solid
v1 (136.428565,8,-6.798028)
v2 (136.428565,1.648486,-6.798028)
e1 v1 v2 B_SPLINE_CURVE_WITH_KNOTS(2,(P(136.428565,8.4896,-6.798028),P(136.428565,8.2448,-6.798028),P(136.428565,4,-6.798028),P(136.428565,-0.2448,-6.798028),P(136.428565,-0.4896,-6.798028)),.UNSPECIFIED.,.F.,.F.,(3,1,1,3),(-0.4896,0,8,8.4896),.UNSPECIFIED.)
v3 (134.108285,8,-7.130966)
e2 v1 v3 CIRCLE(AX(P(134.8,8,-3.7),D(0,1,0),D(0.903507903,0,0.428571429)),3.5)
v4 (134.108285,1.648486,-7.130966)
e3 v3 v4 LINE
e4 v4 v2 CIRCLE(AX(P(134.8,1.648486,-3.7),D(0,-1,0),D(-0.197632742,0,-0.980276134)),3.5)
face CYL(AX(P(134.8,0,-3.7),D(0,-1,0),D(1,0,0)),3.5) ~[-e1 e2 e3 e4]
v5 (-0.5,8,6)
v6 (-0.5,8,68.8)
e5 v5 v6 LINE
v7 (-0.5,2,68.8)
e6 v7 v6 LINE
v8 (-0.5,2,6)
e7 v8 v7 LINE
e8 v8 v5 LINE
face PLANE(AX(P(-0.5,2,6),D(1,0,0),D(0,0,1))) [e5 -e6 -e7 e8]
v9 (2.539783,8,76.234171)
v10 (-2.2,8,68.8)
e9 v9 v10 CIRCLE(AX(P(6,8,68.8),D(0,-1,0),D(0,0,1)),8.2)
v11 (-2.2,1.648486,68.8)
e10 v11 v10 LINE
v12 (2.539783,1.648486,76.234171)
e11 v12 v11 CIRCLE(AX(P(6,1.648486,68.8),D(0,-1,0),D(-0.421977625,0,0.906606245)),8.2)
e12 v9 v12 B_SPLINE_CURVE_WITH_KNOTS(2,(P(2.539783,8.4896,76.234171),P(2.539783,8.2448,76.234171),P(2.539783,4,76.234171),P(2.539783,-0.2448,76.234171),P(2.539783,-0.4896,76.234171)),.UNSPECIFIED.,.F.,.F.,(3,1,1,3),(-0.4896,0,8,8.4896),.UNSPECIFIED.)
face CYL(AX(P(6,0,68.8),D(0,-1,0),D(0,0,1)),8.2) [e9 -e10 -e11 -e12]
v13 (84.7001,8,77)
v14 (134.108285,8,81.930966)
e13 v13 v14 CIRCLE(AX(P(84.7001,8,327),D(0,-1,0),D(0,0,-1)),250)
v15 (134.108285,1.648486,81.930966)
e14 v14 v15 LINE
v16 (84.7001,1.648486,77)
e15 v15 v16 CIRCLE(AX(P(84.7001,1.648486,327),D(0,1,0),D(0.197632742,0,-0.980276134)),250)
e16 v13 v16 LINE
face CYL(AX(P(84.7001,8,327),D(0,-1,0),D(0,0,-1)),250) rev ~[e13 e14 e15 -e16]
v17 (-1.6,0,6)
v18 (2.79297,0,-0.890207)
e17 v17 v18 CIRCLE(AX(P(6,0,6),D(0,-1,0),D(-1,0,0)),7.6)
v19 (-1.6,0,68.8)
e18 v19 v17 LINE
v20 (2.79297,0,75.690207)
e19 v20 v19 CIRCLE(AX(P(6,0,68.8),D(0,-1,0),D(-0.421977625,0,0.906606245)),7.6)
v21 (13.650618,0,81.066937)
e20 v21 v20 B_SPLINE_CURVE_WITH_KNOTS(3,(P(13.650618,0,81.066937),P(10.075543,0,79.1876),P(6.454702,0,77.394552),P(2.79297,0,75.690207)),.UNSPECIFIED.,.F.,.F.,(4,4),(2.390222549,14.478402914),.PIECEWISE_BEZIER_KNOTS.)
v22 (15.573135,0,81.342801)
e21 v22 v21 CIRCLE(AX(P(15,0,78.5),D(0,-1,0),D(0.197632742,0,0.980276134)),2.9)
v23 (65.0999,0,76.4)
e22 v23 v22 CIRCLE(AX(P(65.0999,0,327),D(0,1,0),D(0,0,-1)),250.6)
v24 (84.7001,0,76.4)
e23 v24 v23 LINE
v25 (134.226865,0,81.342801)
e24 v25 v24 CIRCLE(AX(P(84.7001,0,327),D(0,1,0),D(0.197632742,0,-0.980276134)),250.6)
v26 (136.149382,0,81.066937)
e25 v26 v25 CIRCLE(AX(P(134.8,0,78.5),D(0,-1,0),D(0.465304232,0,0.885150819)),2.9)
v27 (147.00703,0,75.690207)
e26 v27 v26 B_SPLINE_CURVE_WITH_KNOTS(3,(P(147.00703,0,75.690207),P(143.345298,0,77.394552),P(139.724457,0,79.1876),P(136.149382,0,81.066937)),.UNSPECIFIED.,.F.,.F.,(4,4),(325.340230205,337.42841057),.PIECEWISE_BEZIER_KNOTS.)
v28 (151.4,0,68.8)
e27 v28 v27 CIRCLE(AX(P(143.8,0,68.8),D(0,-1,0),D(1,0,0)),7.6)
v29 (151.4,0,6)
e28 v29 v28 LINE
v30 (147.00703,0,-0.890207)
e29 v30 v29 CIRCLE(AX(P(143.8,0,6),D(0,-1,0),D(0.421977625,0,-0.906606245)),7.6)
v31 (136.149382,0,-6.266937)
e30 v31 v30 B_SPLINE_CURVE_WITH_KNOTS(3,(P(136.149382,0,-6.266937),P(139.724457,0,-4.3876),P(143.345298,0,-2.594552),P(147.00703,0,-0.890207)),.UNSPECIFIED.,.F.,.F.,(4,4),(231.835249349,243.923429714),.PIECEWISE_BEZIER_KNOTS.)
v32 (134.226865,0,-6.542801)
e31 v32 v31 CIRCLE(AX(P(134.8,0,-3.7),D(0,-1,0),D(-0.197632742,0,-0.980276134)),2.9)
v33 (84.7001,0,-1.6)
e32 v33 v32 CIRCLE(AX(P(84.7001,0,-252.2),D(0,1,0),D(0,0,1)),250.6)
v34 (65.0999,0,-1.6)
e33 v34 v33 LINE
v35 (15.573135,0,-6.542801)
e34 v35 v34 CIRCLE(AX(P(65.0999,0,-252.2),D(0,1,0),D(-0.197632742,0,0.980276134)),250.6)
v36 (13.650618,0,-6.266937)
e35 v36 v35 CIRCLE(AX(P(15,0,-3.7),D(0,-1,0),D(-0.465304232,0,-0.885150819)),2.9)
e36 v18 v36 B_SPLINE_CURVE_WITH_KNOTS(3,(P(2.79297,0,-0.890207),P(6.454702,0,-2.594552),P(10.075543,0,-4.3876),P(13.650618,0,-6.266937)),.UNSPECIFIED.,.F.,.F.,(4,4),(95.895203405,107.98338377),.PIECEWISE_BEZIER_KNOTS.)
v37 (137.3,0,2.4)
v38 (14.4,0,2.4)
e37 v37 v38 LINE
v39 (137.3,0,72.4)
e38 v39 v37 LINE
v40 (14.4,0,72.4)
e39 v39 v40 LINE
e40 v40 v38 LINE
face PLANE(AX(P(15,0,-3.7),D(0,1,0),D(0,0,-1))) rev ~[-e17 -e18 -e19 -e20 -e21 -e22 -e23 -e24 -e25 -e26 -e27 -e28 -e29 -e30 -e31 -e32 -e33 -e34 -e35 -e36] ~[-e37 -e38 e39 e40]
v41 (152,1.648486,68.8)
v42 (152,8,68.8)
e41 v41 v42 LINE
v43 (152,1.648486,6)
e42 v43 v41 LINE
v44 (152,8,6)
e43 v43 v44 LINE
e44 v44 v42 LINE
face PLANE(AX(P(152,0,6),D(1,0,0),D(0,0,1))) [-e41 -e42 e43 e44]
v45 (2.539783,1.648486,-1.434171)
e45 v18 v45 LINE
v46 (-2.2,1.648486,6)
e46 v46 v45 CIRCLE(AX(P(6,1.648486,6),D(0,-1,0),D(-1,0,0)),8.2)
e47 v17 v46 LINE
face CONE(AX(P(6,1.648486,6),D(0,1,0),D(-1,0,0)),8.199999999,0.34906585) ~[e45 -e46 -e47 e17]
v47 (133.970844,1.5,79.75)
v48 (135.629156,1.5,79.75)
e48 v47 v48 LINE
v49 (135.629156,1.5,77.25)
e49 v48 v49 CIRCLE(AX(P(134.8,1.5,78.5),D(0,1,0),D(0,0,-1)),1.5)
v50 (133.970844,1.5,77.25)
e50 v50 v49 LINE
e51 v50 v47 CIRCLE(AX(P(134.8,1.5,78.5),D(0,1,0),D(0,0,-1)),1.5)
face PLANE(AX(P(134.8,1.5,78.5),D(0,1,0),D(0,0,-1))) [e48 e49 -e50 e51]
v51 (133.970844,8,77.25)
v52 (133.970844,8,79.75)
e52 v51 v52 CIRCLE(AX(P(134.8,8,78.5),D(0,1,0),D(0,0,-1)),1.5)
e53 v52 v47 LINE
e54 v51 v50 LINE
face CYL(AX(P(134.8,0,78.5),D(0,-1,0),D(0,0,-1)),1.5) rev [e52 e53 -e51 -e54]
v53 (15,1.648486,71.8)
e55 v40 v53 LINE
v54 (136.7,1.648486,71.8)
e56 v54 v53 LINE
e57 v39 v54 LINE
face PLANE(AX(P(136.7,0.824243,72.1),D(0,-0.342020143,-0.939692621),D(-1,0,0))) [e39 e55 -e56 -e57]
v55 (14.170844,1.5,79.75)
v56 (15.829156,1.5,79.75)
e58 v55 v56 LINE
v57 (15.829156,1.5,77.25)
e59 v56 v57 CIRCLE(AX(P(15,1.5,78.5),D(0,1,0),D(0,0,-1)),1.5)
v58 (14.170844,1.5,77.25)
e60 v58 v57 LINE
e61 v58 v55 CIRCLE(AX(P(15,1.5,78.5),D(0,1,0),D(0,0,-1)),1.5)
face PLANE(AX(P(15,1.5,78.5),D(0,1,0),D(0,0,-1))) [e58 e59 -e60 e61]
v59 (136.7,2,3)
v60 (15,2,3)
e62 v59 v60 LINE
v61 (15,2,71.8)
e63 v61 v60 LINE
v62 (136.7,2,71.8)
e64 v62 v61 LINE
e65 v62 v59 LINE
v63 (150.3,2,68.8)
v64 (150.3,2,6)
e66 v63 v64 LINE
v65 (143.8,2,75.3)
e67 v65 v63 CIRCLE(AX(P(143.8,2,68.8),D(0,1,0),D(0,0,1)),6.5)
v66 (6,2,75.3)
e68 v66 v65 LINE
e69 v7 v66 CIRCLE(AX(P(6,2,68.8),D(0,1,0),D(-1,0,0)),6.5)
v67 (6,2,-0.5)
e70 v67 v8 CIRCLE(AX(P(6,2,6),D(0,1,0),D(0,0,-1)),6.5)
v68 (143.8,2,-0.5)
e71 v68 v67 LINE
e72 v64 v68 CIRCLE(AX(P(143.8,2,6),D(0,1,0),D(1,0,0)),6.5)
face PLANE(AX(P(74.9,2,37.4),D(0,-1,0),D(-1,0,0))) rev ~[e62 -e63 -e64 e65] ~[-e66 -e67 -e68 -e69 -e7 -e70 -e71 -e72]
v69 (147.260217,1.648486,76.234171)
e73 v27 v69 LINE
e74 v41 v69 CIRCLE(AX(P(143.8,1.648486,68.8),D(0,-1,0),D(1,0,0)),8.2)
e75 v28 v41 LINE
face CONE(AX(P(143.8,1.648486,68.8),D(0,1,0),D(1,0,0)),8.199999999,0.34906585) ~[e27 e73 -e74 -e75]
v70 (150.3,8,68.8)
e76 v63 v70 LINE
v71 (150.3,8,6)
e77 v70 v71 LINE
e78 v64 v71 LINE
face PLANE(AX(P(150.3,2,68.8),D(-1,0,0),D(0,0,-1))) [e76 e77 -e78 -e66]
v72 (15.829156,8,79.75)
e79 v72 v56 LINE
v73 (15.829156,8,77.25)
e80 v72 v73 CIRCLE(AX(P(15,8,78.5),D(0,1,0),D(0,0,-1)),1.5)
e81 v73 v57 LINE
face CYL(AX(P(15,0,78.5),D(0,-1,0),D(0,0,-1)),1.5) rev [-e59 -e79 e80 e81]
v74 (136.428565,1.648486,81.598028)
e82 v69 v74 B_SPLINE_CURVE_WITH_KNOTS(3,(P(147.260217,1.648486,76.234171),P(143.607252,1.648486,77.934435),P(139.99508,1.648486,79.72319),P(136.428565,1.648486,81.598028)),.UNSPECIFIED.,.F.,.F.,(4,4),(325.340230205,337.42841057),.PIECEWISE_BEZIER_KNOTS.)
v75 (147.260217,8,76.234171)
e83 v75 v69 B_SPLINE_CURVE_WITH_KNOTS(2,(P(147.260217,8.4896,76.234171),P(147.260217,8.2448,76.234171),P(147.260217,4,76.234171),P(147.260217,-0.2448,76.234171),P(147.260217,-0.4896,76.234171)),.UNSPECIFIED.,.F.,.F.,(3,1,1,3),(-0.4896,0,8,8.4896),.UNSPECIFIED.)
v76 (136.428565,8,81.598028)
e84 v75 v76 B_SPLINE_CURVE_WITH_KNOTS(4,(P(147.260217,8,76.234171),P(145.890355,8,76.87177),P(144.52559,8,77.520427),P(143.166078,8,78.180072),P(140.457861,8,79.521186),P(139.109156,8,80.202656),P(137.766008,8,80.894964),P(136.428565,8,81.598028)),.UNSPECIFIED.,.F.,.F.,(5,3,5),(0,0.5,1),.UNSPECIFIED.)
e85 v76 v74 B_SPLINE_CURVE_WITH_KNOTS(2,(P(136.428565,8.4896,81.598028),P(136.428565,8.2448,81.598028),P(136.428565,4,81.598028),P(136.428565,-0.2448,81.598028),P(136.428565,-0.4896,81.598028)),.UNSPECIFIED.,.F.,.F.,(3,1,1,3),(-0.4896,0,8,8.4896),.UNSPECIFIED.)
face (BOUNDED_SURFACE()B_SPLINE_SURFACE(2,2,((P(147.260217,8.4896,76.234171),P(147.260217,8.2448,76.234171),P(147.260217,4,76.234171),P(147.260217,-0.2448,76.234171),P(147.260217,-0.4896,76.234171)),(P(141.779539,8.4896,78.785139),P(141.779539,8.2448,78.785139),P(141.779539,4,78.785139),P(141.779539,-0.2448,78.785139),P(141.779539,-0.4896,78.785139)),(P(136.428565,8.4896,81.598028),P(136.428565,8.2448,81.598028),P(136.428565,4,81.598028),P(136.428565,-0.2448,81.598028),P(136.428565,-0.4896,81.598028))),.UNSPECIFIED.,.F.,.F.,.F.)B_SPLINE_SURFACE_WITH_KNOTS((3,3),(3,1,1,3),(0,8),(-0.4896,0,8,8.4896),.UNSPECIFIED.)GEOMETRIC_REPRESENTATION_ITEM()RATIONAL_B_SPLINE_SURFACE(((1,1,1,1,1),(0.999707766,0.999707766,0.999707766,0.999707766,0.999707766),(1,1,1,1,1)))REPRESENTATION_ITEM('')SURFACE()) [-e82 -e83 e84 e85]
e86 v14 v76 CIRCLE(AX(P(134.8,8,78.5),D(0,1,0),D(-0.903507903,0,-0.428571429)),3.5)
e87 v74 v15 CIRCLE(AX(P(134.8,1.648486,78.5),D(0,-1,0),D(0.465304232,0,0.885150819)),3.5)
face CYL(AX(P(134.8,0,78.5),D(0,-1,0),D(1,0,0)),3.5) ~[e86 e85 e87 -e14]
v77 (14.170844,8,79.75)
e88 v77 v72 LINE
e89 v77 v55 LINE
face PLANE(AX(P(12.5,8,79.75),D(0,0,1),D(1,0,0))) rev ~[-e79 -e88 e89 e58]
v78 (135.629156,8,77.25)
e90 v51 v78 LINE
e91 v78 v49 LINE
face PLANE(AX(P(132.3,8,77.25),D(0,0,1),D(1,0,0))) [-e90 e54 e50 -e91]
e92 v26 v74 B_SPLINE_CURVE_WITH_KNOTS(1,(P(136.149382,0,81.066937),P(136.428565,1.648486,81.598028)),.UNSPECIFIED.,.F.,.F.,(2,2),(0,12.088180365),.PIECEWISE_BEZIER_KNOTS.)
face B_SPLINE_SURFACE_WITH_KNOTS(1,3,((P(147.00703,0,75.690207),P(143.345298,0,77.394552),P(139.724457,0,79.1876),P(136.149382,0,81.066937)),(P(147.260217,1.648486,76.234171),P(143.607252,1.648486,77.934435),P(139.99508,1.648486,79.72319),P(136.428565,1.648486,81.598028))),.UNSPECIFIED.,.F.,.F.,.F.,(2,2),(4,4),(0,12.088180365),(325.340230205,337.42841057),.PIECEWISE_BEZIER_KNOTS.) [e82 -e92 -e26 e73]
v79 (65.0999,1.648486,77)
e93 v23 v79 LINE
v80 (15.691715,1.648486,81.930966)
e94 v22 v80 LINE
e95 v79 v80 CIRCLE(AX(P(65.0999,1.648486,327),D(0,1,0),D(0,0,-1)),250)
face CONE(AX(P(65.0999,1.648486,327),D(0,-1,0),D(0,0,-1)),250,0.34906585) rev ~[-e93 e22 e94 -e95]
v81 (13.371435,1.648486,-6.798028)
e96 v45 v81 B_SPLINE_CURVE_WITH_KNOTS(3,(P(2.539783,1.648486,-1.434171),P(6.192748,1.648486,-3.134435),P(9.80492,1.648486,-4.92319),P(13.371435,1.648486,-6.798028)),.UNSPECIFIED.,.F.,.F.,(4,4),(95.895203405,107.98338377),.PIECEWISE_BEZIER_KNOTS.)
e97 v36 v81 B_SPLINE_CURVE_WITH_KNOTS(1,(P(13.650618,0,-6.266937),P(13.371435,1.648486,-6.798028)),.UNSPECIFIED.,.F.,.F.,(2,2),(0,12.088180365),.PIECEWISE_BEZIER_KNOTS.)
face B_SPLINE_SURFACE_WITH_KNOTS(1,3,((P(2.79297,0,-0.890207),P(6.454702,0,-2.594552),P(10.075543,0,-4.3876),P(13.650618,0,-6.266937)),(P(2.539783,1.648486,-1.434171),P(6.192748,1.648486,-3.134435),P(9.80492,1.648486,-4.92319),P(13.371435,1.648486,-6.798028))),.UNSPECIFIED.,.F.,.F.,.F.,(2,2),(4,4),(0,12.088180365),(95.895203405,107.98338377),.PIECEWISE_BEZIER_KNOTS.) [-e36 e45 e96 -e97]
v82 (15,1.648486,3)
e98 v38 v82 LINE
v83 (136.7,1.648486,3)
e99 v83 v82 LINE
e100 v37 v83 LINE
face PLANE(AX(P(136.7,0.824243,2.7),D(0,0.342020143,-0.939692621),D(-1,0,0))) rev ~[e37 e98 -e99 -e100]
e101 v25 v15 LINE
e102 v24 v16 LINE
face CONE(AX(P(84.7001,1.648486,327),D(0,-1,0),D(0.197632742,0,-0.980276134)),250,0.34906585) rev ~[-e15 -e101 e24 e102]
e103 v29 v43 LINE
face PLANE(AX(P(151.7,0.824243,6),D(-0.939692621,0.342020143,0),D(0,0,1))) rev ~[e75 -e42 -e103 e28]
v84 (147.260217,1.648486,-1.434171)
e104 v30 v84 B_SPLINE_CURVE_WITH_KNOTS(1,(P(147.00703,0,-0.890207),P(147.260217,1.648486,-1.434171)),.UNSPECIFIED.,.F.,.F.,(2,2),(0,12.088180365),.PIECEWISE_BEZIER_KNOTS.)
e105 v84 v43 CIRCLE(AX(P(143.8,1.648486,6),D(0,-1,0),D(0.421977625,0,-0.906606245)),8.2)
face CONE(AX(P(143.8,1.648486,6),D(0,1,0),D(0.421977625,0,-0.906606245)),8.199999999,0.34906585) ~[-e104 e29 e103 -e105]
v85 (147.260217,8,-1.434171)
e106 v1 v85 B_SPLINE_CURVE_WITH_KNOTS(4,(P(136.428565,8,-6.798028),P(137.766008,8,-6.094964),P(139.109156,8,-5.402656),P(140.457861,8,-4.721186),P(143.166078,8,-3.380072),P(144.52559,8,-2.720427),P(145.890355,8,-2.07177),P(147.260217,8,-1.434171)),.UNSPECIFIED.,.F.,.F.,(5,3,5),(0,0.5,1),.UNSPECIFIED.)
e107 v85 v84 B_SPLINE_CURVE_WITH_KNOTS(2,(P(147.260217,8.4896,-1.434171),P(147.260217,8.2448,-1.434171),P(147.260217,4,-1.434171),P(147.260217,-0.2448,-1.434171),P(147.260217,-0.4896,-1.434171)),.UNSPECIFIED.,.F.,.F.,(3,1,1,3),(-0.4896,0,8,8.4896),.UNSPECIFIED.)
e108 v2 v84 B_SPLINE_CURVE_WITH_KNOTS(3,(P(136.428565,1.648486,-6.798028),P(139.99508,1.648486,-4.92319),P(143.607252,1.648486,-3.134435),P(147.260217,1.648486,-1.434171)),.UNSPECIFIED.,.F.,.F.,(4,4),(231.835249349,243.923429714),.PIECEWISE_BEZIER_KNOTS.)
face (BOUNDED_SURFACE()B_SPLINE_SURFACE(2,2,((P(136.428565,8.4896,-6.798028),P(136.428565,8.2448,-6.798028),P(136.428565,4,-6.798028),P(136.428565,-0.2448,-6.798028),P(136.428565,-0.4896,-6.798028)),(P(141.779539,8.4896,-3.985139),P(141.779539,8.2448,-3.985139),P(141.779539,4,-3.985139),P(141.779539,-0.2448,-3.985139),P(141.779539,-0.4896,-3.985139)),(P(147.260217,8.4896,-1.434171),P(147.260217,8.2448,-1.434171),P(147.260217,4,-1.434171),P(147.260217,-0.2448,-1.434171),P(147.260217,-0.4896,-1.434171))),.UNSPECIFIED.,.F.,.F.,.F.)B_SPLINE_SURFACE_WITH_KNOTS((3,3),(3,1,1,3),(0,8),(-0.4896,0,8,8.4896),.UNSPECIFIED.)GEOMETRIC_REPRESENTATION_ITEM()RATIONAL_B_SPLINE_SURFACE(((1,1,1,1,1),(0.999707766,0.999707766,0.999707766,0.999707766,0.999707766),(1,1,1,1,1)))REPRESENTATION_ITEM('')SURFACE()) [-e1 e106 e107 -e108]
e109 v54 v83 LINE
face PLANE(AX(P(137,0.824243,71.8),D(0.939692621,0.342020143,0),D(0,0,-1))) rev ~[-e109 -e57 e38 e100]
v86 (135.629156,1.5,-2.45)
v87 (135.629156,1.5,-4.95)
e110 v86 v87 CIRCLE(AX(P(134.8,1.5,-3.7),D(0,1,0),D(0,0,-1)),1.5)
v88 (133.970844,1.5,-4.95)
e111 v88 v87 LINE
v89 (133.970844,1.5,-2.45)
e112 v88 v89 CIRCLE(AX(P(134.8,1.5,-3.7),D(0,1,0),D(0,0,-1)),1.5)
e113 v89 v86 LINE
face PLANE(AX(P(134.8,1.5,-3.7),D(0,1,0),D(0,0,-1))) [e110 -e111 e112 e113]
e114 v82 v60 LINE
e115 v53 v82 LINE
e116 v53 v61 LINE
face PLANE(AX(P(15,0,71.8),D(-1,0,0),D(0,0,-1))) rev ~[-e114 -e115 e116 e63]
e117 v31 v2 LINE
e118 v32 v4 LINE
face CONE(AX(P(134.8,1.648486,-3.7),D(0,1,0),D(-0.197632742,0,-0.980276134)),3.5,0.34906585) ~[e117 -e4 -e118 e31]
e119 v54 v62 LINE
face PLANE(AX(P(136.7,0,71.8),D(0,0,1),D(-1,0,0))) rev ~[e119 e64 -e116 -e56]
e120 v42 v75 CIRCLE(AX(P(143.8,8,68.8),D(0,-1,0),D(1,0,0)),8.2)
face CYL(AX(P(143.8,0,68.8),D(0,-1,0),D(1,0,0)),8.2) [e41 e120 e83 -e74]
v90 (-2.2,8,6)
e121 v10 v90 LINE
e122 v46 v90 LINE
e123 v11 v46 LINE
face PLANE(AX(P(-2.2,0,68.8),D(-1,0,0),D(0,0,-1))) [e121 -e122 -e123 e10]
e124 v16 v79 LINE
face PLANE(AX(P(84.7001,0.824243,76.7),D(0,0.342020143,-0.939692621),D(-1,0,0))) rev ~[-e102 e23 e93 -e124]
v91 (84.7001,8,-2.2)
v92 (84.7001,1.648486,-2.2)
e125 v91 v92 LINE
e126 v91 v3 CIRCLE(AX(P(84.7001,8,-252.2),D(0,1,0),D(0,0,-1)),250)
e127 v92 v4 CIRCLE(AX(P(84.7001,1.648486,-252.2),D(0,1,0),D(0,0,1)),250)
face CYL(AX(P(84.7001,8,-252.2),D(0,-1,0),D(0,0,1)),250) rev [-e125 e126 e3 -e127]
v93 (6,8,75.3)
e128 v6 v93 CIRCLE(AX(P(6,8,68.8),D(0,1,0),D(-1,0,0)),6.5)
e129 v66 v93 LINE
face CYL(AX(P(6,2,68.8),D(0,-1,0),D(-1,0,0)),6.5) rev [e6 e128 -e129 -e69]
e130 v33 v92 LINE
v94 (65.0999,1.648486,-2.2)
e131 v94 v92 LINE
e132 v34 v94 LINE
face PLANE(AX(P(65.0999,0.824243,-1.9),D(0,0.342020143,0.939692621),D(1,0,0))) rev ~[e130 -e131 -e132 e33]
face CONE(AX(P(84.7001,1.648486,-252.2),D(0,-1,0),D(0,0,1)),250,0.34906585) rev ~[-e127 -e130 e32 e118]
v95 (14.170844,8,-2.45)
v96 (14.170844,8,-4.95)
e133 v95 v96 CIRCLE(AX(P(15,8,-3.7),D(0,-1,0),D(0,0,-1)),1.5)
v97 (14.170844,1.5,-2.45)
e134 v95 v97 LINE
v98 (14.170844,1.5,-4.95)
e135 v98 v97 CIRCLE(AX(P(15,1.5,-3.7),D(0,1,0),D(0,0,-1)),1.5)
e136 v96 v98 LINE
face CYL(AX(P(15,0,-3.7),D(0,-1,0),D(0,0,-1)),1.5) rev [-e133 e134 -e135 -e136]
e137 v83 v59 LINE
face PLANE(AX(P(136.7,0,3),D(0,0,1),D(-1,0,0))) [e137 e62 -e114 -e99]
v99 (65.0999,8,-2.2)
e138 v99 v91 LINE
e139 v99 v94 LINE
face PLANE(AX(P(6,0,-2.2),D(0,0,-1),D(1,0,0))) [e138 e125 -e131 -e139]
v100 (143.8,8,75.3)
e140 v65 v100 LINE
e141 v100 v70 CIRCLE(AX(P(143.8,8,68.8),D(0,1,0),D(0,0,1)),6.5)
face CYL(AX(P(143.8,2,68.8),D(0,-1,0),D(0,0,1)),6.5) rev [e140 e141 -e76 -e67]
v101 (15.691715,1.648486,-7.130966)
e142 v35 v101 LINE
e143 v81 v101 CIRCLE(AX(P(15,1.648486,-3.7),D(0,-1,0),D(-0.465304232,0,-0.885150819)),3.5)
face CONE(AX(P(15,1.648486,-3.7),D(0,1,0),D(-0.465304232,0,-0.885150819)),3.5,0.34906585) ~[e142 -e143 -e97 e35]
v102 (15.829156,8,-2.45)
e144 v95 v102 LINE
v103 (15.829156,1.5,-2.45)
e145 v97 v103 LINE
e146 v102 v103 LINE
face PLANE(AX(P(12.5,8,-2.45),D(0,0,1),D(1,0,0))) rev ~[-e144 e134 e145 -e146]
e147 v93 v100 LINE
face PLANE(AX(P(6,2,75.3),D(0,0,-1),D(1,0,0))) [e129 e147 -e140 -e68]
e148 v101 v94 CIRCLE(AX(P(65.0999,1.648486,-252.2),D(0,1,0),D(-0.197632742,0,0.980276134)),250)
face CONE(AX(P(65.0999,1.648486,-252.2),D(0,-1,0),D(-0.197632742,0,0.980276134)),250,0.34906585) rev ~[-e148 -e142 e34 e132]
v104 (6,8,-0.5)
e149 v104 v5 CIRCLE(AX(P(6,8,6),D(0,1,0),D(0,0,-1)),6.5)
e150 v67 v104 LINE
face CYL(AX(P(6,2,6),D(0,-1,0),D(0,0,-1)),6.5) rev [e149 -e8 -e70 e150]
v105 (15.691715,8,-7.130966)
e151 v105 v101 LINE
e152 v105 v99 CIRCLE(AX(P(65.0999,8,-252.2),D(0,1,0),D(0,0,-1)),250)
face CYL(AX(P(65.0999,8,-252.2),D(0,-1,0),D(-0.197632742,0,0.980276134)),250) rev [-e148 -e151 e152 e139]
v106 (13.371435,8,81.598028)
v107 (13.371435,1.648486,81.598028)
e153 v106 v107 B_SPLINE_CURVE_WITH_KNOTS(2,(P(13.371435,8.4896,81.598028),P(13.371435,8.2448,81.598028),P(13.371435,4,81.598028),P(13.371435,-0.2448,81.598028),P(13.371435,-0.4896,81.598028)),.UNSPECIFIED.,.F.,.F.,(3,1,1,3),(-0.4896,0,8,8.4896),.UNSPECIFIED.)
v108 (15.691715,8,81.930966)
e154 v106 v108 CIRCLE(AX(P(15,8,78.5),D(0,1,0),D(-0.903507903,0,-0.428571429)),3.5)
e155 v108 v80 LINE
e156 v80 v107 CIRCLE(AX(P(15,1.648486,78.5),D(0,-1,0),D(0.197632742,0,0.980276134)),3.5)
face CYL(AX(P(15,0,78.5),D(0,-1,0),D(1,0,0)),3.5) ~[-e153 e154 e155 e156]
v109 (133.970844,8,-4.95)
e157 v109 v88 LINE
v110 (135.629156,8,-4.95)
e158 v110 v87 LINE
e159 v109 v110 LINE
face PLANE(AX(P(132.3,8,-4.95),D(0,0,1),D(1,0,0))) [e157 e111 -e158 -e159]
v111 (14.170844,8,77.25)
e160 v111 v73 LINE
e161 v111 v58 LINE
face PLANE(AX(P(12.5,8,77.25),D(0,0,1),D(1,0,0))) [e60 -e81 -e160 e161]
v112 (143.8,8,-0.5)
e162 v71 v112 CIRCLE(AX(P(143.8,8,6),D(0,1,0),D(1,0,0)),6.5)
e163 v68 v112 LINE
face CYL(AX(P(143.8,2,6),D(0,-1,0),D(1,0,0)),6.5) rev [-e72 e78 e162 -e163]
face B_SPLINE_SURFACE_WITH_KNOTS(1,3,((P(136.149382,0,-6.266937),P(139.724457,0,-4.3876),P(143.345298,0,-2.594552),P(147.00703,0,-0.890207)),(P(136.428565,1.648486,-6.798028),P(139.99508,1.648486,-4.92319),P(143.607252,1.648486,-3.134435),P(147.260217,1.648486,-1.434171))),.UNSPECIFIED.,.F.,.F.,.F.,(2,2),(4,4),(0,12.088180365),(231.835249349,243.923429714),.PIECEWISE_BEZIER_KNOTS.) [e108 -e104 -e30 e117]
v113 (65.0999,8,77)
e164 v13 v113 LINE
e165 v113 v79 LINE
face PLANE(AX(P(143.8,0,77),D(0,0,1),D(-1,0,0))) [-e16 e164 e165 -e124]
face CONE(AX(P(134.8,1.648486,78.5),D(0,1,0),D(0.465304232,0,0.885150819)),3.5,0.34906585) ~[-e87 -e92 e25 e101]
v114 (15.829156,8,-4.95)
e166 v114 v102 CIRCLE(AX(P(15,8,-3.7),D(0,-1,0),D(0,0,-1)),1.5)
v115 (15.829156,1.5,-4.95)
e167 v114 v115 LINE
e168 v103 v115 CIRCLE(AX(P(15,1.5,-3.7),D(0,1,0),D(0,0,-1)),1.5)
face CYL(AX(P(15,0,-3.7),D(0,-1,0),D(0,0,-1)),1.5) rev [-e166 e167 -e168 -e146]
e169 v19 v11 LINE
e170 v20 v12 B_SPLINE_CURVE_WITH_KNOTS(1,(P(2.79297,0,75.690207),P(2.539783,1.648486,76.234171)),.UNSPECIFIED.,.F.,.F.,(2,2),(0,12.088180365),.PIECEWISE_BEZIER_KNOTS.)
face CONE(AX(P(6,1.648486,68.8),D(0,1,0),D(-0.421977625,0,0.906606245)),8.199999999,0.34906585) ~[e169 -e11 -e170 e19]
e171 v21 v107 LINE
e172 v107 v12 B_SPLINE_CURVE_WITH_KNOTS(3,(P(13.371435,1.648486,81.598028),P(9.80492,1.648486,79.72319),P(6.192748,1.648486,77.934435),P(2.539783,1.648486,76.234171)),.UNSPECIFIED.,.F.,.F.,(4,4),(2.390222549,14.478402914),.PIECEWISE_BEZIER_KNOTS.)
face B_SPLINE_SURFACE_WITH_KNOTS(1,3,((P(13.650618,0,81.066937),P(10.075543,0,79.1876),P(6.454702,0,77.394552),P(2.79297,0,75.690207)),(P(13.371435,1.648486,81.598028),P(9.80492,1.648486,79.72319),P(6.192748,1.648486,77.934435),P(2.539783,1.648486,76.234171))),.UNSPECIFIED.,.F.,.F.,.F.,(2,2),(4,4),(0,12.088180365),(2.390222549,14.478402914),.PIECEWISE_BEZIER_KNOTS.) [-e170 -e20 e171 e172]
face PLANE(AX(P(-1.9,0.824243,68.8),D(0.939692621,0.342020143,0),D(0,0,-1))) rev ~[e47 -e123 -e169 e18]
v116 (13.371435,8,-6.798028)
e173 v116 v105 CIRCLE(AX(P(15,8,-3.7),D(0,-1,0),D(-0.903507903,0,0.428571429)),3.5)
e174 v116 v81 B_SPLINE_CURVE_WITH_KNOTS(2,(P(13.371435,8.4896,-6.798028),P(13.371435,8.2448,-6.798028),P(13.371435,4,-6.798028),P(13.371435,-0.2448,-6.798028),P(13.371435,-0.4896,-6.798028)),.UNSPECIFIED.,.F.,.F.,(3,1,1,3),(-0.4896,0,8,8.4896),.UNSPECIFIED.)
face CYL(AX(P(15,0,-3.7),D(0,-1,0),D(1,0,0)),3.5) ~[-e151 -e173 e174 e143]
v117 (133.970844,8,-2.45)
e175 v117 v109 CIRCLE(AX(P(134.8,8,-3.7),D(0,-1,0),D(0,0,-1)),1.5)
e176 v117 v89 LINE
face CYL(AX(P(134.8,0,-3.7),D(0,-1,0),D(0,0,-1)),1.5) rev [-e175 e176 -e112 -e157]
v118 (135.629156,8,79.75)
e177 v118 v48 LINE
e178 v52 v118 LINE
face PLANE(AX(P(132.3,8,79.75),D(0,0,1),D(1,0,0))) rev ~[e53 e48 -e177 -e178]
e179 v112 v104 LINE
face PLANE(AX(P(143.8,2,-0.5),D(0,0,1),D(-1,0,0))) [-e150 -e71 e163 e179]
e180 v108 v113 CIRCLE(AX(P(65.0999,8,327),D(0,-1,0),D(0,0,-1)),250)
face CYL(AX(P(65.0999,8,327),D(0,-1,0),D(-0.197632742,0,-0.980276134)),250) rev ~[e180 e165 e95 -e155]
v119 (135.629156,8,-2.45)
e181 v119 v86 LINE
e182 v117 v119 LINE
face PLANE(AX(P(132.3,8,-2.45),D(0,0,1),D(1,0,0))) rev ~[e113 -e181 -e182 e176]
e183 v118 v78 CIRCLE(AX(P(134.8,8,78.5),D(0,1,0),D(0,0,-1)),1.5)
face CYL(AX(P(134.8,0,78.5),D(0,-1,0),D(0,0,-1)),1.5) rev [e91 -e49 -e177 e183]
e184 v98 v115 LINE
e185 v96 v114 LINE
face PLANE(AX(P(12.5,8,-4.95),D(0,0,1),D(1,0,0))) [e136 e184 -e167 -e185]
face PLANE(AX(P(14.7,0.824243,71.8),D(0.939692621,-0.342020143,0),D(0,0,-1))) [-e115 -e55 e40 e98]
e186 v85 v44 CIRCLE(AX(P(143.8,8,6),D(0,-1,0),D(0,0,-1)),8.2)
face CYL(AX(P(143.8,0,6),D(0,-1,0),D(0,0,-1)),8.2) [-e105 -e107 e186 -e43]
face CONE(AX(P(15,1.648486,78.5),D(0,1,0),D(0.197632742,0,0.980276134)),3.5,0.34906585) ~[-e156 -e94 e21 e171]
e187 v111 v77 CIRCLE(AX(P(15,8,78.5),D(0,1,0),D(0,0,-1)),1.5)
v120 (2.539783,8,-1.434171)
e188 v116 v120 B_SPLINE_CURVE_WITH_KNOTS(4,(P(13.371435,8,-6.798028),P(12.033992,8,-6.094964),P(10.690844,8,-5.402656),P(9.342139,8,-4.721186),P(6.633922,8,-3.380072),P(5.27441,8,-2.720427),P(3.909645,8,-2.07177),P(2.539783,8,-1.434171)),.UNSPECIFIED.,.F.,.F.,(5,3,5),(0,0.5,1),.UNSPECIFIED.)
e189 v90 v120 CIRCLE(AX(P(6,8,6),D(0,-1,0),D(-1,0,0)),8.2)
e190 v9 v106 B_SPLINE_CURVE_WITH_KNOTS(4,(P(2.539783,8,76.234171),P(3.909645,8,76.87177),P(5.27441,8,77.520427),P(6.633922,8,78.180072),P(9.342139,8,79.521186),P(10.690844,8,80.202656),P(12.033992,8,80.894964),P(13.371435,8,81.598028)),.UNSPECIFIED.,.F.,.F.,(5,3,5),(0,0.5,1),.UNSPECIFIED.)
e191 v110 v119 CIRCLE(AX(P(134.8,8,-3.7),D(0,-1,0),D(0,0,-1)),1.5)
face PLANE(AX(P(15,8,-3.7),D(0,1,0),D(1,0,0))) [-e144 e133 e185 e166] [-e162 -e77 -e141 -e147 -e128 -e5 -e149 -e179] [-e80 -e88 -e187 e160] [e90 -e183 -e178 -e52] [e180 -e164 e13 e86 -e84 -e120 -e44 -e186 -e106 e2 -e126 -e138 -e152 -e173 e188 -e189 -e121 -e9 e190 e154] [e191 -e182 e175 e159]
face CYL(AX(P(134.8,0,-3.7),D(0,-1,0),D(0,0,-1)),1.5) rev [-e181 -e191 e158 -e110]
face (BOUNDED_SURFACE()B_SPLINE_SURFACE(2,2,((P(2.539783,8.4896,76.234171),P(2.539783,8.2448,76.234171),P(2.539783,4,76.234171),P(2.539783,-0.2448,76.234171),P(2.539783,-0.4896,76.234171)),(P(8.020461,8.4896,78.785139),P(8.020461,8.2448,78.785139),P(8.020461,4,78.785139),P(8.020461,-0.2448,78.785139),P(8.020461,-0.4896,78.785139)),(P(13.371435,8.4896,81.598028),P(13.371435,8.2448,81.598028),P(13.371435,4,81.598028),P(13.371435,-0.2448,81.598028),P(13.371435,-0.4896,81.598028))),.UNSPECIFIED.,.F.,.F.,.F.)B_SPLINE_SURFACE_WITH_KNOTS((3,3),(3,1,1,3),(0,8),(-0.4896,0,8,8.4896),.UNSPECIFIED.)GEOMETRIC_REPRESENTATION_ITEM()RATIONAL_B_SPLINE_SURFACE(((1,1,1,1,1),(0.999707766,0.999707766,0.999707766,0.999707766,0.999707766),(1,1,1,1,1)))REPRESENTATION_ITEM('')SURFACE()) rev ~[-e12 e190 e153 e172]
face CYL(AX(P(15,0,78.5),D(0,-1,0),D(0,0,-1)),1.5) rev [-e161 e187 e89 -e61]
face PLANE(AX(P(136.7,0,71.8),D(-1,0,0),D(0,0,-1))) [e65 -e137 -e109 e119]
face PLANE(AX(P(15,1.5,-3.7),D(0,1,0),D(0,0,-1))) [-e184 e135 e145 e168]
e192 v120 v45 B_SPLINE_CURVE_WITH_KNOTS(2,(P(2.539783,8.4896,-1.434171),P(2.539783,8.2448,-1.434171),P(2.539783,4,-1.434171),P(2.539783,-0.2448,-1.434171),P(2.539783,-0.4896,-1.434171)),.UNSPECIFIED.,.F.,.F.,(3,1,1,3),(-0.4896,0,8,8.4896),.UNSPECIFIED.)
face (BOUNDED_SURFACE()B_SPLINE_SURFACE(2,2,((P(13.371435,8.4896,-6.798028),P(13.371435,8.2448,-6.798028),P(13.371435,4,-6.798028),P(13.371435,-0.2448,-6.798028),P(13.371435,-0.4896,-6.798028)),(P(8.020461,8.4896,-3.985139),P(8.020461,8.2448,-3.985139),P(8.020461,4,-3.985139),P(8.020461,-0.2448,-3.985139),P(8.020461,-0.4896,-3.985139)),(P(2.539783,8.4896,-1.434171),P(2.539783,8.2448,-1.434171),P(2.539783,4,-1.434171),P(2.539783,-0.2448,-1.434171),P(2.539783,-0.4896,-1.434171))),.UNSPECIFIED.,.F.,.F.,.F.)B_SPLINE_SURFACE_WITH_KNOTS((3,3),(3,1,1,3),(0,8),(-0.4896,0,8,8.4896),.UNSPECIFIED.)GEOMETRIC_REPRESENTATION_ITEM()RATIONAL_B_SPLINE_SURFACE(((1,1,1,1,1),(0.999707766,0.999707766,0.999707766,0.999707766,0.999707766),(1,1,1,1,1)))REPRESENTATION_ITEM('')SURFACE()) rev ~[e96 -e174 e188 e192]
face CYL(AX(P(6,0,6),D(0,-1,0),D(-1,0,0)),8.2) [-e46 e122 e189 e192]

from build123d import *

# Parameters (mm, degrees)
EXTRUDE_1_DEPTH       = 2
EXTRUDE_2_DEPTH       = 8
SKETCH_6_R            = 3.5
SKETCH_6_R_2          = 1.5
EXTRUDE_10_DEPTH      = 8
SKETCH_7_W            = 121.7
SKETCH_7_H            = 68.8
CUT_EXTRUDE_1_DEPTH   = 10
FILLET_1_R            = 250
SKETCH_6_2_R          = 1.5
EXTRUDE_11_DEPTH      = 1.5
CHAMFER_1_SIZE        = 0.6
CHAMFER_1_SIZE2       = 1.648486452
CUT_EXTRUDE_START     = -6
CUT_EXTRUDE_1_2_DEPTH = 6
SKETCH_12_W           = 7.981613131
SKETCH_12_H           = 4.067552846
SKETCH_12_W_2         = 5
SKETCH_12_H_2         = 2.5
SKETCH_12_W_3         = 6.44213445
SKETCH_12_H_3         = 4.018836203
SKETCH_12_W_4         = 6.293487169
SKETCH_12_H_4         = 3.99394378
SKETCH_12_W_5         = 6.35997617
EXTRUDE_12_DEPTH      = 6.5


with BuildPart() as part:
    # 草图1 → 凸台-拉伸1 (new body)
    with BuildSketch(Plane(origin=(0, 0, 0), x_dir=(1, 0, 0), z_dir=(0, 1, 0))):
        with BuildLine():
            Line((6, 0.2), (143.8, 0.2))
            ThreePointArc((143.8, 0.2), (148.184062043, -1.615937957), (150, -6))
            Line((150, -6), (150, -68.8))
            ThreePointArc((150, -68.8), (148.184062043, -73.184062043), (143.8, -75))
            Line((143.8, -75), (6, -75))
            ThreePointArc((6, -75), (1.615937957, -73.184062043), (-0.2, -68.8))
            Line((-0.2, -68.8), (-0.2, -6))
            ThreePointArc((-0.2, -6), (1.615937957, -1.615937957), (6, 0.2))
        make_face()
    extrude(amount=EXTRUDE_1_DEPTH)

    # 草图1<5> → 拉伸-薄壁2 (add)
    with BuildSketch(Plane(origin=(0, 0, 0), x_dir=(1, 0, 0), z_dir=(0, 1, 0))):
        with BuildLine():
            Line((6, 2.2), (143.8, 2.2))
            ThreePointArc((143.8, 2.2), (149.598275606, -0.201724394), (152, -6))
            Line((152, -6), (152, -68.8))
            ThreePointArc((152, -68.8), (149.598275606, -74.598275606), (143.8, -77))
            Line((143.8, -77), (6, -77))
            ThreePointArc((6, -77), (0.201724394, -74.598275606), (-2.2, -68.8))
            Line((-2.2, -68.8), (-2.2, -6))
            ThreePointArc((-2.2, -6), (0.201724394, -0.201724394), (6, 2.2))
        make_face()
        with BuildLine():
            Line((6, 0.2), (143.8, 0.2))
            ThreePointArc((143.8, 0.2), (148.184062043, -1.615937957), (150, -6))
            Line((150, -6), (150, -68.8))
            ThreePointArc((150, -68.8), (148.184062043, -73.184062043), (143.8, -75))
            Line((143.8, -75), (6, -75))
            ThreePointArc((6, -75), (1.615937957, -73.184062043), (-0.2, -68.8))
            Line((-0.2, -68.8), (-0.2, -6))
            ThreePointArc((-0.2, -6), (1.615937957, -1.615937957), (6, 0.2))
        make_face(mode=Mode.SUBTRACT)
    extrude(amount=EXTRUDE_2_DEPTH)

    # 草图6 → 凸台-拉伸10 (add)
    # profile 1 of 4: a face of its own
    with BuildSketch(Plane(origin=(0, 0, 0), x_dir=(1, 0, 0), z_dir=(0, 1, 0))):
        with Locations((15, 3.7)):
            Circle(SKETCH_6_R)
        with Locations(Location((15, 3.7, 0), (0, 0, 90))):
            Circle(SKETCH_6_R_2, mode=Mode.SUBTRACT)
    # profile 2 of 4: a face of its own
    with BuildSketch(Plane(origin=(0, 0, 0), x_dir=(1, 0, 0), z_dir=(0, 1, 0))):
        with Locations((15, -78.5)):
            Circle(SKETCH_6_R)
        with Locations(Location((15, -78.5, 0), (0, 0, 90))):
            Circle(SKETCH_6_R_2, mode=Mode.SUBTRACT)
    # profile 3 of 4: a face of its own
    with BuildSketch(Plane(origin=(0, 0, 0), x_dir=(1, 0, 0), z_dir=(0, 1, 0))):
        with Locations((134.8, 3.7)):
            Circle(SKETCH_6_R)
        with Locations(Location((134.8, 3.7, 0), (0, 0, 90))):
            Circle(SKETCH_6_R_2, mode=Mode.SUBTRACT)
    # profile 4 of 4: a face of its own
    with BuildSketch(Plane(origin=(0, 0, 0), x_dir=(1, 0, 0), z_dir=(0, 1, 0))):
        with Locations((134.8, -78.5)):
            Circle(SKETCH_6_R)
        with Locations(Location((134.8, -78.5, 0), (0, 0, 90))):
            Circle(SKETCH_6_R_2, mode=Mode.SUBTRACT)
    extrude(amount=EXTRUDE_10_DEPTH)

    # 草图7 → Cut-Extrude 1 (cut)
    with BuildSketch(Plane(origin=(0, 0, 0), x_dir=(-1, 0, 0), z_dir=(0, -1, 0))):
        with Locations((-75.85, -37.4)):
            Rectangle(SKETCH_7_W, SKETCH_7_H)
    extrude(amount=-CUT_EXTRUDE_1_DEPTH, mode=Mode.SUBTRACT)

    # 圆角1
    fillet_1_edges = [part.edges().sort_by_distance(p)[0] for p in [
        (18.16227766, 4, 77),
        (11.83772234, 4, 77),
        (137.96227766, 4, 77),
        (131.63772234, 4, 77),
        (131.63772234, 4, -2.2),
        (137.96227766, 4, -2.2),
        (11.83772234, 4, -2.2),
        (18.16227766, 4, -2.2),
    ]]
    fillet(fillet_1_edges, radius=FILLET_1_R)

    # 草图6<2> → 凸台-拉伸11 (add)
    with BuildSketch(Plane(origin=(0, 0, 0), x_dir=(1, 0, 0), z_dir=(0, 1, 0))):
        with Locations(Location((15, 3.7, 0), (0, 0, 90))):
            Circle(SKETCH_6_2_R)
        with Locations(Location((15, -78.5, 0), (0, 0, 90))):
            Circle(SKETCH_6_2_R)
        with Locations(Location((134.8, 3.7, 0), (0, 0, 90))):
            Circle(SKETCH_6_2_R)
        with Locations(Location((134.8, -78.5, 0), (0, 0, 90))):
            Circle(SKETCH_6_2_R)
    extrude(amount=EXTRUDE_11_DEPTH)

    # 倒角1
    chamfer_1_edges = [part.edges().sort_by_distance(p)[0] for p in [
        (136.7, 0, 37.4),
        (75.85, 0, 71.8),
        (15, 0, 37.4),
        (75.85, 0, 3),
        (14.502874151, 0, 81.964515246),
        (74.9, 0, 77),
        (135.297125849, 0, 81.964515246),
        (150.714252509, 0, 73.20830038),
        (135.297125849, 0, -7.164515246),
        (74.9, 0, -2.2),
        (14.502874151, 0, -7.164515246),
        (-0.914252509, 0, 1.59169962),
        (7.988030543, 0, 78.850628869),
        (40.273083878, 0, 78.235796001),
        (141.811969457, 0, 78.850628869),
        (109.526916122, 0, 78.235796001),
        (141.811969457, 0, -4.050628869),
        (109.526916122, 0, -3.435796001),
        (7.988030543, 0, -4.050628869),
        (40.273083878, 0, -3.435796001),
        (-2.2, 0, 37.4),
        (-0.914252509, 0, 73.20830038),
        (152, 0, 37.4),
        (150.714252509, 0, 1.59169962),
    ]]
    chamfer_1_side = [part.faces().sort_by_distance(p)[0] for p in [
        (0.58783664, 0, 72.250617658),
    ]]
    chamfer(chamfer_1_edges, length=CHAMFER_1_SIZE, length2=CHAMFER_1_SIZE2, reference=chamfer_1_side[0])

    # 草图11 → Cut-Extrude 1 2 (cut)
    with BuildSketch(Plane(origin=(0, 8, 0), x_dir=(1, 0, 0), z_dir=(0, 1, 0)).offset(CUT_EXTRUDE_START)):
        with BuildLine():
            Line((143.8, 0.5), (6, 0.5))
            ThreePointArc((6, 0.5), (1.403805922, -1.403805922), (-0.5, -6))
            Line((-0.5, -6), (-0.5, -68.8))
            ThreePointArc((-0.5, -68.8), (1.403805922, -73.396194078), (6, -75.3))
            Line((6, -75.3), (143.8, -75.3))
            ThreePointArc((143.8, -75.3), (148.396194078, -73.396194078), (150.3, -68.8))
            Line((150.3, -68.8), (150.3, -6))
            ThreePointArc((150.3, -6), (148.396194078, -1.403805922), (143.8, 0.5))
        make_face()
        with BuildLine():
            Line((143.8, 0.2), (6, 0.2))
            ThreePointArc((6, 0.2), (1.615937957, -1.615937957), (-0.2, -6))
            Line((-0.2, -6), (-0.2, -68.8))
            ThreePointArc((-0.2, -68.8), (1.615937957, -73.184062043), (6, -75))
            Line((6, -75), (143.8, -75))
            ThreePointArc((143.8, -75), (148.184062043, -73.184062043), (150, -68.8))
            Line((150, -68.8), (150, -6))
            ThreePointArc((150, -6), (148.184062043, -1.615937957), (143.8, 0.2))
        make_face(mode=Mode.SUBTRACT)
    extrude(amount=CUT_EXTRUDE_1_2_DEPTH, mode=Mode.SUBTRACT)

    # 草图12 → 凸台-拉伸12 (add)
    # profile 1 of 4: a face of its own
    with BuildSketch(Plane(origin=(0, 8, 0), x_dir=(1, 0, 0), z_dir=(0, 1, 0))):
        with Locations((15.444728275, 3.558916951)):
            Rectangle(SKETCH_12_W, SKETCH_12_H)
        with Locations((15, 3.7)):
            Rectangle(SKETCH_12_W_2, SKETCH_12_H_2, mode=Mode.SUBTRACT)
    # profile 2 of 4: a face of its own
    with BuildSketch(Plane(origin=(0, 8, 0), x_dir=(1, 0, 0), z_dir=(0, 1, 0))):
        with Locations((134.555490907, 3.789730855)):
            Rectangle(SKETCH_12_W_3, SKETCH_12_H_3)
        with Locations((134.8, 3.7)):
            Rectangle(SKETCH_12_W_2, SKETCH_12_H_2, mode=Mode.SUBTRACT)
    # profile 3 of 4: a face of its own
    with BuildSketch(Plane(origin=(0, 8, 0), x_dir=(1, 0, 0), z_dir=(0, 1, 0))):
        with Locations((134.721799576, -78.476357082)):
            Rectangle(SKETCH_12_W_4, SKETCH_12_H_4)
        with Locations((134.8, -78.5)):
            Rectangle(SKETCH_12_W_2, SKETCH_12_H_2, mode=Mode.SUBTRACT)
    # profile 4 of 4: a face of its own
    with BuildSketch(Plane(origin=(0, 8, 0), x_dir=(1, 0, 0), z_dir=(0, 1, 0))):
        with Locations((15.237842113, -78.476357082)):
            Rectangle(SKETCH_12_W_5, SKETCH_12_H_4)
        with Locations((15, -78.5)):
            Rectangle(SKETCH_12_W_2, SKETCH_12_H_2, mode=Mode.SUBTRACT)
    extrude(amount=-EXTRUDE_12_DEPTH)


solid = part.part
